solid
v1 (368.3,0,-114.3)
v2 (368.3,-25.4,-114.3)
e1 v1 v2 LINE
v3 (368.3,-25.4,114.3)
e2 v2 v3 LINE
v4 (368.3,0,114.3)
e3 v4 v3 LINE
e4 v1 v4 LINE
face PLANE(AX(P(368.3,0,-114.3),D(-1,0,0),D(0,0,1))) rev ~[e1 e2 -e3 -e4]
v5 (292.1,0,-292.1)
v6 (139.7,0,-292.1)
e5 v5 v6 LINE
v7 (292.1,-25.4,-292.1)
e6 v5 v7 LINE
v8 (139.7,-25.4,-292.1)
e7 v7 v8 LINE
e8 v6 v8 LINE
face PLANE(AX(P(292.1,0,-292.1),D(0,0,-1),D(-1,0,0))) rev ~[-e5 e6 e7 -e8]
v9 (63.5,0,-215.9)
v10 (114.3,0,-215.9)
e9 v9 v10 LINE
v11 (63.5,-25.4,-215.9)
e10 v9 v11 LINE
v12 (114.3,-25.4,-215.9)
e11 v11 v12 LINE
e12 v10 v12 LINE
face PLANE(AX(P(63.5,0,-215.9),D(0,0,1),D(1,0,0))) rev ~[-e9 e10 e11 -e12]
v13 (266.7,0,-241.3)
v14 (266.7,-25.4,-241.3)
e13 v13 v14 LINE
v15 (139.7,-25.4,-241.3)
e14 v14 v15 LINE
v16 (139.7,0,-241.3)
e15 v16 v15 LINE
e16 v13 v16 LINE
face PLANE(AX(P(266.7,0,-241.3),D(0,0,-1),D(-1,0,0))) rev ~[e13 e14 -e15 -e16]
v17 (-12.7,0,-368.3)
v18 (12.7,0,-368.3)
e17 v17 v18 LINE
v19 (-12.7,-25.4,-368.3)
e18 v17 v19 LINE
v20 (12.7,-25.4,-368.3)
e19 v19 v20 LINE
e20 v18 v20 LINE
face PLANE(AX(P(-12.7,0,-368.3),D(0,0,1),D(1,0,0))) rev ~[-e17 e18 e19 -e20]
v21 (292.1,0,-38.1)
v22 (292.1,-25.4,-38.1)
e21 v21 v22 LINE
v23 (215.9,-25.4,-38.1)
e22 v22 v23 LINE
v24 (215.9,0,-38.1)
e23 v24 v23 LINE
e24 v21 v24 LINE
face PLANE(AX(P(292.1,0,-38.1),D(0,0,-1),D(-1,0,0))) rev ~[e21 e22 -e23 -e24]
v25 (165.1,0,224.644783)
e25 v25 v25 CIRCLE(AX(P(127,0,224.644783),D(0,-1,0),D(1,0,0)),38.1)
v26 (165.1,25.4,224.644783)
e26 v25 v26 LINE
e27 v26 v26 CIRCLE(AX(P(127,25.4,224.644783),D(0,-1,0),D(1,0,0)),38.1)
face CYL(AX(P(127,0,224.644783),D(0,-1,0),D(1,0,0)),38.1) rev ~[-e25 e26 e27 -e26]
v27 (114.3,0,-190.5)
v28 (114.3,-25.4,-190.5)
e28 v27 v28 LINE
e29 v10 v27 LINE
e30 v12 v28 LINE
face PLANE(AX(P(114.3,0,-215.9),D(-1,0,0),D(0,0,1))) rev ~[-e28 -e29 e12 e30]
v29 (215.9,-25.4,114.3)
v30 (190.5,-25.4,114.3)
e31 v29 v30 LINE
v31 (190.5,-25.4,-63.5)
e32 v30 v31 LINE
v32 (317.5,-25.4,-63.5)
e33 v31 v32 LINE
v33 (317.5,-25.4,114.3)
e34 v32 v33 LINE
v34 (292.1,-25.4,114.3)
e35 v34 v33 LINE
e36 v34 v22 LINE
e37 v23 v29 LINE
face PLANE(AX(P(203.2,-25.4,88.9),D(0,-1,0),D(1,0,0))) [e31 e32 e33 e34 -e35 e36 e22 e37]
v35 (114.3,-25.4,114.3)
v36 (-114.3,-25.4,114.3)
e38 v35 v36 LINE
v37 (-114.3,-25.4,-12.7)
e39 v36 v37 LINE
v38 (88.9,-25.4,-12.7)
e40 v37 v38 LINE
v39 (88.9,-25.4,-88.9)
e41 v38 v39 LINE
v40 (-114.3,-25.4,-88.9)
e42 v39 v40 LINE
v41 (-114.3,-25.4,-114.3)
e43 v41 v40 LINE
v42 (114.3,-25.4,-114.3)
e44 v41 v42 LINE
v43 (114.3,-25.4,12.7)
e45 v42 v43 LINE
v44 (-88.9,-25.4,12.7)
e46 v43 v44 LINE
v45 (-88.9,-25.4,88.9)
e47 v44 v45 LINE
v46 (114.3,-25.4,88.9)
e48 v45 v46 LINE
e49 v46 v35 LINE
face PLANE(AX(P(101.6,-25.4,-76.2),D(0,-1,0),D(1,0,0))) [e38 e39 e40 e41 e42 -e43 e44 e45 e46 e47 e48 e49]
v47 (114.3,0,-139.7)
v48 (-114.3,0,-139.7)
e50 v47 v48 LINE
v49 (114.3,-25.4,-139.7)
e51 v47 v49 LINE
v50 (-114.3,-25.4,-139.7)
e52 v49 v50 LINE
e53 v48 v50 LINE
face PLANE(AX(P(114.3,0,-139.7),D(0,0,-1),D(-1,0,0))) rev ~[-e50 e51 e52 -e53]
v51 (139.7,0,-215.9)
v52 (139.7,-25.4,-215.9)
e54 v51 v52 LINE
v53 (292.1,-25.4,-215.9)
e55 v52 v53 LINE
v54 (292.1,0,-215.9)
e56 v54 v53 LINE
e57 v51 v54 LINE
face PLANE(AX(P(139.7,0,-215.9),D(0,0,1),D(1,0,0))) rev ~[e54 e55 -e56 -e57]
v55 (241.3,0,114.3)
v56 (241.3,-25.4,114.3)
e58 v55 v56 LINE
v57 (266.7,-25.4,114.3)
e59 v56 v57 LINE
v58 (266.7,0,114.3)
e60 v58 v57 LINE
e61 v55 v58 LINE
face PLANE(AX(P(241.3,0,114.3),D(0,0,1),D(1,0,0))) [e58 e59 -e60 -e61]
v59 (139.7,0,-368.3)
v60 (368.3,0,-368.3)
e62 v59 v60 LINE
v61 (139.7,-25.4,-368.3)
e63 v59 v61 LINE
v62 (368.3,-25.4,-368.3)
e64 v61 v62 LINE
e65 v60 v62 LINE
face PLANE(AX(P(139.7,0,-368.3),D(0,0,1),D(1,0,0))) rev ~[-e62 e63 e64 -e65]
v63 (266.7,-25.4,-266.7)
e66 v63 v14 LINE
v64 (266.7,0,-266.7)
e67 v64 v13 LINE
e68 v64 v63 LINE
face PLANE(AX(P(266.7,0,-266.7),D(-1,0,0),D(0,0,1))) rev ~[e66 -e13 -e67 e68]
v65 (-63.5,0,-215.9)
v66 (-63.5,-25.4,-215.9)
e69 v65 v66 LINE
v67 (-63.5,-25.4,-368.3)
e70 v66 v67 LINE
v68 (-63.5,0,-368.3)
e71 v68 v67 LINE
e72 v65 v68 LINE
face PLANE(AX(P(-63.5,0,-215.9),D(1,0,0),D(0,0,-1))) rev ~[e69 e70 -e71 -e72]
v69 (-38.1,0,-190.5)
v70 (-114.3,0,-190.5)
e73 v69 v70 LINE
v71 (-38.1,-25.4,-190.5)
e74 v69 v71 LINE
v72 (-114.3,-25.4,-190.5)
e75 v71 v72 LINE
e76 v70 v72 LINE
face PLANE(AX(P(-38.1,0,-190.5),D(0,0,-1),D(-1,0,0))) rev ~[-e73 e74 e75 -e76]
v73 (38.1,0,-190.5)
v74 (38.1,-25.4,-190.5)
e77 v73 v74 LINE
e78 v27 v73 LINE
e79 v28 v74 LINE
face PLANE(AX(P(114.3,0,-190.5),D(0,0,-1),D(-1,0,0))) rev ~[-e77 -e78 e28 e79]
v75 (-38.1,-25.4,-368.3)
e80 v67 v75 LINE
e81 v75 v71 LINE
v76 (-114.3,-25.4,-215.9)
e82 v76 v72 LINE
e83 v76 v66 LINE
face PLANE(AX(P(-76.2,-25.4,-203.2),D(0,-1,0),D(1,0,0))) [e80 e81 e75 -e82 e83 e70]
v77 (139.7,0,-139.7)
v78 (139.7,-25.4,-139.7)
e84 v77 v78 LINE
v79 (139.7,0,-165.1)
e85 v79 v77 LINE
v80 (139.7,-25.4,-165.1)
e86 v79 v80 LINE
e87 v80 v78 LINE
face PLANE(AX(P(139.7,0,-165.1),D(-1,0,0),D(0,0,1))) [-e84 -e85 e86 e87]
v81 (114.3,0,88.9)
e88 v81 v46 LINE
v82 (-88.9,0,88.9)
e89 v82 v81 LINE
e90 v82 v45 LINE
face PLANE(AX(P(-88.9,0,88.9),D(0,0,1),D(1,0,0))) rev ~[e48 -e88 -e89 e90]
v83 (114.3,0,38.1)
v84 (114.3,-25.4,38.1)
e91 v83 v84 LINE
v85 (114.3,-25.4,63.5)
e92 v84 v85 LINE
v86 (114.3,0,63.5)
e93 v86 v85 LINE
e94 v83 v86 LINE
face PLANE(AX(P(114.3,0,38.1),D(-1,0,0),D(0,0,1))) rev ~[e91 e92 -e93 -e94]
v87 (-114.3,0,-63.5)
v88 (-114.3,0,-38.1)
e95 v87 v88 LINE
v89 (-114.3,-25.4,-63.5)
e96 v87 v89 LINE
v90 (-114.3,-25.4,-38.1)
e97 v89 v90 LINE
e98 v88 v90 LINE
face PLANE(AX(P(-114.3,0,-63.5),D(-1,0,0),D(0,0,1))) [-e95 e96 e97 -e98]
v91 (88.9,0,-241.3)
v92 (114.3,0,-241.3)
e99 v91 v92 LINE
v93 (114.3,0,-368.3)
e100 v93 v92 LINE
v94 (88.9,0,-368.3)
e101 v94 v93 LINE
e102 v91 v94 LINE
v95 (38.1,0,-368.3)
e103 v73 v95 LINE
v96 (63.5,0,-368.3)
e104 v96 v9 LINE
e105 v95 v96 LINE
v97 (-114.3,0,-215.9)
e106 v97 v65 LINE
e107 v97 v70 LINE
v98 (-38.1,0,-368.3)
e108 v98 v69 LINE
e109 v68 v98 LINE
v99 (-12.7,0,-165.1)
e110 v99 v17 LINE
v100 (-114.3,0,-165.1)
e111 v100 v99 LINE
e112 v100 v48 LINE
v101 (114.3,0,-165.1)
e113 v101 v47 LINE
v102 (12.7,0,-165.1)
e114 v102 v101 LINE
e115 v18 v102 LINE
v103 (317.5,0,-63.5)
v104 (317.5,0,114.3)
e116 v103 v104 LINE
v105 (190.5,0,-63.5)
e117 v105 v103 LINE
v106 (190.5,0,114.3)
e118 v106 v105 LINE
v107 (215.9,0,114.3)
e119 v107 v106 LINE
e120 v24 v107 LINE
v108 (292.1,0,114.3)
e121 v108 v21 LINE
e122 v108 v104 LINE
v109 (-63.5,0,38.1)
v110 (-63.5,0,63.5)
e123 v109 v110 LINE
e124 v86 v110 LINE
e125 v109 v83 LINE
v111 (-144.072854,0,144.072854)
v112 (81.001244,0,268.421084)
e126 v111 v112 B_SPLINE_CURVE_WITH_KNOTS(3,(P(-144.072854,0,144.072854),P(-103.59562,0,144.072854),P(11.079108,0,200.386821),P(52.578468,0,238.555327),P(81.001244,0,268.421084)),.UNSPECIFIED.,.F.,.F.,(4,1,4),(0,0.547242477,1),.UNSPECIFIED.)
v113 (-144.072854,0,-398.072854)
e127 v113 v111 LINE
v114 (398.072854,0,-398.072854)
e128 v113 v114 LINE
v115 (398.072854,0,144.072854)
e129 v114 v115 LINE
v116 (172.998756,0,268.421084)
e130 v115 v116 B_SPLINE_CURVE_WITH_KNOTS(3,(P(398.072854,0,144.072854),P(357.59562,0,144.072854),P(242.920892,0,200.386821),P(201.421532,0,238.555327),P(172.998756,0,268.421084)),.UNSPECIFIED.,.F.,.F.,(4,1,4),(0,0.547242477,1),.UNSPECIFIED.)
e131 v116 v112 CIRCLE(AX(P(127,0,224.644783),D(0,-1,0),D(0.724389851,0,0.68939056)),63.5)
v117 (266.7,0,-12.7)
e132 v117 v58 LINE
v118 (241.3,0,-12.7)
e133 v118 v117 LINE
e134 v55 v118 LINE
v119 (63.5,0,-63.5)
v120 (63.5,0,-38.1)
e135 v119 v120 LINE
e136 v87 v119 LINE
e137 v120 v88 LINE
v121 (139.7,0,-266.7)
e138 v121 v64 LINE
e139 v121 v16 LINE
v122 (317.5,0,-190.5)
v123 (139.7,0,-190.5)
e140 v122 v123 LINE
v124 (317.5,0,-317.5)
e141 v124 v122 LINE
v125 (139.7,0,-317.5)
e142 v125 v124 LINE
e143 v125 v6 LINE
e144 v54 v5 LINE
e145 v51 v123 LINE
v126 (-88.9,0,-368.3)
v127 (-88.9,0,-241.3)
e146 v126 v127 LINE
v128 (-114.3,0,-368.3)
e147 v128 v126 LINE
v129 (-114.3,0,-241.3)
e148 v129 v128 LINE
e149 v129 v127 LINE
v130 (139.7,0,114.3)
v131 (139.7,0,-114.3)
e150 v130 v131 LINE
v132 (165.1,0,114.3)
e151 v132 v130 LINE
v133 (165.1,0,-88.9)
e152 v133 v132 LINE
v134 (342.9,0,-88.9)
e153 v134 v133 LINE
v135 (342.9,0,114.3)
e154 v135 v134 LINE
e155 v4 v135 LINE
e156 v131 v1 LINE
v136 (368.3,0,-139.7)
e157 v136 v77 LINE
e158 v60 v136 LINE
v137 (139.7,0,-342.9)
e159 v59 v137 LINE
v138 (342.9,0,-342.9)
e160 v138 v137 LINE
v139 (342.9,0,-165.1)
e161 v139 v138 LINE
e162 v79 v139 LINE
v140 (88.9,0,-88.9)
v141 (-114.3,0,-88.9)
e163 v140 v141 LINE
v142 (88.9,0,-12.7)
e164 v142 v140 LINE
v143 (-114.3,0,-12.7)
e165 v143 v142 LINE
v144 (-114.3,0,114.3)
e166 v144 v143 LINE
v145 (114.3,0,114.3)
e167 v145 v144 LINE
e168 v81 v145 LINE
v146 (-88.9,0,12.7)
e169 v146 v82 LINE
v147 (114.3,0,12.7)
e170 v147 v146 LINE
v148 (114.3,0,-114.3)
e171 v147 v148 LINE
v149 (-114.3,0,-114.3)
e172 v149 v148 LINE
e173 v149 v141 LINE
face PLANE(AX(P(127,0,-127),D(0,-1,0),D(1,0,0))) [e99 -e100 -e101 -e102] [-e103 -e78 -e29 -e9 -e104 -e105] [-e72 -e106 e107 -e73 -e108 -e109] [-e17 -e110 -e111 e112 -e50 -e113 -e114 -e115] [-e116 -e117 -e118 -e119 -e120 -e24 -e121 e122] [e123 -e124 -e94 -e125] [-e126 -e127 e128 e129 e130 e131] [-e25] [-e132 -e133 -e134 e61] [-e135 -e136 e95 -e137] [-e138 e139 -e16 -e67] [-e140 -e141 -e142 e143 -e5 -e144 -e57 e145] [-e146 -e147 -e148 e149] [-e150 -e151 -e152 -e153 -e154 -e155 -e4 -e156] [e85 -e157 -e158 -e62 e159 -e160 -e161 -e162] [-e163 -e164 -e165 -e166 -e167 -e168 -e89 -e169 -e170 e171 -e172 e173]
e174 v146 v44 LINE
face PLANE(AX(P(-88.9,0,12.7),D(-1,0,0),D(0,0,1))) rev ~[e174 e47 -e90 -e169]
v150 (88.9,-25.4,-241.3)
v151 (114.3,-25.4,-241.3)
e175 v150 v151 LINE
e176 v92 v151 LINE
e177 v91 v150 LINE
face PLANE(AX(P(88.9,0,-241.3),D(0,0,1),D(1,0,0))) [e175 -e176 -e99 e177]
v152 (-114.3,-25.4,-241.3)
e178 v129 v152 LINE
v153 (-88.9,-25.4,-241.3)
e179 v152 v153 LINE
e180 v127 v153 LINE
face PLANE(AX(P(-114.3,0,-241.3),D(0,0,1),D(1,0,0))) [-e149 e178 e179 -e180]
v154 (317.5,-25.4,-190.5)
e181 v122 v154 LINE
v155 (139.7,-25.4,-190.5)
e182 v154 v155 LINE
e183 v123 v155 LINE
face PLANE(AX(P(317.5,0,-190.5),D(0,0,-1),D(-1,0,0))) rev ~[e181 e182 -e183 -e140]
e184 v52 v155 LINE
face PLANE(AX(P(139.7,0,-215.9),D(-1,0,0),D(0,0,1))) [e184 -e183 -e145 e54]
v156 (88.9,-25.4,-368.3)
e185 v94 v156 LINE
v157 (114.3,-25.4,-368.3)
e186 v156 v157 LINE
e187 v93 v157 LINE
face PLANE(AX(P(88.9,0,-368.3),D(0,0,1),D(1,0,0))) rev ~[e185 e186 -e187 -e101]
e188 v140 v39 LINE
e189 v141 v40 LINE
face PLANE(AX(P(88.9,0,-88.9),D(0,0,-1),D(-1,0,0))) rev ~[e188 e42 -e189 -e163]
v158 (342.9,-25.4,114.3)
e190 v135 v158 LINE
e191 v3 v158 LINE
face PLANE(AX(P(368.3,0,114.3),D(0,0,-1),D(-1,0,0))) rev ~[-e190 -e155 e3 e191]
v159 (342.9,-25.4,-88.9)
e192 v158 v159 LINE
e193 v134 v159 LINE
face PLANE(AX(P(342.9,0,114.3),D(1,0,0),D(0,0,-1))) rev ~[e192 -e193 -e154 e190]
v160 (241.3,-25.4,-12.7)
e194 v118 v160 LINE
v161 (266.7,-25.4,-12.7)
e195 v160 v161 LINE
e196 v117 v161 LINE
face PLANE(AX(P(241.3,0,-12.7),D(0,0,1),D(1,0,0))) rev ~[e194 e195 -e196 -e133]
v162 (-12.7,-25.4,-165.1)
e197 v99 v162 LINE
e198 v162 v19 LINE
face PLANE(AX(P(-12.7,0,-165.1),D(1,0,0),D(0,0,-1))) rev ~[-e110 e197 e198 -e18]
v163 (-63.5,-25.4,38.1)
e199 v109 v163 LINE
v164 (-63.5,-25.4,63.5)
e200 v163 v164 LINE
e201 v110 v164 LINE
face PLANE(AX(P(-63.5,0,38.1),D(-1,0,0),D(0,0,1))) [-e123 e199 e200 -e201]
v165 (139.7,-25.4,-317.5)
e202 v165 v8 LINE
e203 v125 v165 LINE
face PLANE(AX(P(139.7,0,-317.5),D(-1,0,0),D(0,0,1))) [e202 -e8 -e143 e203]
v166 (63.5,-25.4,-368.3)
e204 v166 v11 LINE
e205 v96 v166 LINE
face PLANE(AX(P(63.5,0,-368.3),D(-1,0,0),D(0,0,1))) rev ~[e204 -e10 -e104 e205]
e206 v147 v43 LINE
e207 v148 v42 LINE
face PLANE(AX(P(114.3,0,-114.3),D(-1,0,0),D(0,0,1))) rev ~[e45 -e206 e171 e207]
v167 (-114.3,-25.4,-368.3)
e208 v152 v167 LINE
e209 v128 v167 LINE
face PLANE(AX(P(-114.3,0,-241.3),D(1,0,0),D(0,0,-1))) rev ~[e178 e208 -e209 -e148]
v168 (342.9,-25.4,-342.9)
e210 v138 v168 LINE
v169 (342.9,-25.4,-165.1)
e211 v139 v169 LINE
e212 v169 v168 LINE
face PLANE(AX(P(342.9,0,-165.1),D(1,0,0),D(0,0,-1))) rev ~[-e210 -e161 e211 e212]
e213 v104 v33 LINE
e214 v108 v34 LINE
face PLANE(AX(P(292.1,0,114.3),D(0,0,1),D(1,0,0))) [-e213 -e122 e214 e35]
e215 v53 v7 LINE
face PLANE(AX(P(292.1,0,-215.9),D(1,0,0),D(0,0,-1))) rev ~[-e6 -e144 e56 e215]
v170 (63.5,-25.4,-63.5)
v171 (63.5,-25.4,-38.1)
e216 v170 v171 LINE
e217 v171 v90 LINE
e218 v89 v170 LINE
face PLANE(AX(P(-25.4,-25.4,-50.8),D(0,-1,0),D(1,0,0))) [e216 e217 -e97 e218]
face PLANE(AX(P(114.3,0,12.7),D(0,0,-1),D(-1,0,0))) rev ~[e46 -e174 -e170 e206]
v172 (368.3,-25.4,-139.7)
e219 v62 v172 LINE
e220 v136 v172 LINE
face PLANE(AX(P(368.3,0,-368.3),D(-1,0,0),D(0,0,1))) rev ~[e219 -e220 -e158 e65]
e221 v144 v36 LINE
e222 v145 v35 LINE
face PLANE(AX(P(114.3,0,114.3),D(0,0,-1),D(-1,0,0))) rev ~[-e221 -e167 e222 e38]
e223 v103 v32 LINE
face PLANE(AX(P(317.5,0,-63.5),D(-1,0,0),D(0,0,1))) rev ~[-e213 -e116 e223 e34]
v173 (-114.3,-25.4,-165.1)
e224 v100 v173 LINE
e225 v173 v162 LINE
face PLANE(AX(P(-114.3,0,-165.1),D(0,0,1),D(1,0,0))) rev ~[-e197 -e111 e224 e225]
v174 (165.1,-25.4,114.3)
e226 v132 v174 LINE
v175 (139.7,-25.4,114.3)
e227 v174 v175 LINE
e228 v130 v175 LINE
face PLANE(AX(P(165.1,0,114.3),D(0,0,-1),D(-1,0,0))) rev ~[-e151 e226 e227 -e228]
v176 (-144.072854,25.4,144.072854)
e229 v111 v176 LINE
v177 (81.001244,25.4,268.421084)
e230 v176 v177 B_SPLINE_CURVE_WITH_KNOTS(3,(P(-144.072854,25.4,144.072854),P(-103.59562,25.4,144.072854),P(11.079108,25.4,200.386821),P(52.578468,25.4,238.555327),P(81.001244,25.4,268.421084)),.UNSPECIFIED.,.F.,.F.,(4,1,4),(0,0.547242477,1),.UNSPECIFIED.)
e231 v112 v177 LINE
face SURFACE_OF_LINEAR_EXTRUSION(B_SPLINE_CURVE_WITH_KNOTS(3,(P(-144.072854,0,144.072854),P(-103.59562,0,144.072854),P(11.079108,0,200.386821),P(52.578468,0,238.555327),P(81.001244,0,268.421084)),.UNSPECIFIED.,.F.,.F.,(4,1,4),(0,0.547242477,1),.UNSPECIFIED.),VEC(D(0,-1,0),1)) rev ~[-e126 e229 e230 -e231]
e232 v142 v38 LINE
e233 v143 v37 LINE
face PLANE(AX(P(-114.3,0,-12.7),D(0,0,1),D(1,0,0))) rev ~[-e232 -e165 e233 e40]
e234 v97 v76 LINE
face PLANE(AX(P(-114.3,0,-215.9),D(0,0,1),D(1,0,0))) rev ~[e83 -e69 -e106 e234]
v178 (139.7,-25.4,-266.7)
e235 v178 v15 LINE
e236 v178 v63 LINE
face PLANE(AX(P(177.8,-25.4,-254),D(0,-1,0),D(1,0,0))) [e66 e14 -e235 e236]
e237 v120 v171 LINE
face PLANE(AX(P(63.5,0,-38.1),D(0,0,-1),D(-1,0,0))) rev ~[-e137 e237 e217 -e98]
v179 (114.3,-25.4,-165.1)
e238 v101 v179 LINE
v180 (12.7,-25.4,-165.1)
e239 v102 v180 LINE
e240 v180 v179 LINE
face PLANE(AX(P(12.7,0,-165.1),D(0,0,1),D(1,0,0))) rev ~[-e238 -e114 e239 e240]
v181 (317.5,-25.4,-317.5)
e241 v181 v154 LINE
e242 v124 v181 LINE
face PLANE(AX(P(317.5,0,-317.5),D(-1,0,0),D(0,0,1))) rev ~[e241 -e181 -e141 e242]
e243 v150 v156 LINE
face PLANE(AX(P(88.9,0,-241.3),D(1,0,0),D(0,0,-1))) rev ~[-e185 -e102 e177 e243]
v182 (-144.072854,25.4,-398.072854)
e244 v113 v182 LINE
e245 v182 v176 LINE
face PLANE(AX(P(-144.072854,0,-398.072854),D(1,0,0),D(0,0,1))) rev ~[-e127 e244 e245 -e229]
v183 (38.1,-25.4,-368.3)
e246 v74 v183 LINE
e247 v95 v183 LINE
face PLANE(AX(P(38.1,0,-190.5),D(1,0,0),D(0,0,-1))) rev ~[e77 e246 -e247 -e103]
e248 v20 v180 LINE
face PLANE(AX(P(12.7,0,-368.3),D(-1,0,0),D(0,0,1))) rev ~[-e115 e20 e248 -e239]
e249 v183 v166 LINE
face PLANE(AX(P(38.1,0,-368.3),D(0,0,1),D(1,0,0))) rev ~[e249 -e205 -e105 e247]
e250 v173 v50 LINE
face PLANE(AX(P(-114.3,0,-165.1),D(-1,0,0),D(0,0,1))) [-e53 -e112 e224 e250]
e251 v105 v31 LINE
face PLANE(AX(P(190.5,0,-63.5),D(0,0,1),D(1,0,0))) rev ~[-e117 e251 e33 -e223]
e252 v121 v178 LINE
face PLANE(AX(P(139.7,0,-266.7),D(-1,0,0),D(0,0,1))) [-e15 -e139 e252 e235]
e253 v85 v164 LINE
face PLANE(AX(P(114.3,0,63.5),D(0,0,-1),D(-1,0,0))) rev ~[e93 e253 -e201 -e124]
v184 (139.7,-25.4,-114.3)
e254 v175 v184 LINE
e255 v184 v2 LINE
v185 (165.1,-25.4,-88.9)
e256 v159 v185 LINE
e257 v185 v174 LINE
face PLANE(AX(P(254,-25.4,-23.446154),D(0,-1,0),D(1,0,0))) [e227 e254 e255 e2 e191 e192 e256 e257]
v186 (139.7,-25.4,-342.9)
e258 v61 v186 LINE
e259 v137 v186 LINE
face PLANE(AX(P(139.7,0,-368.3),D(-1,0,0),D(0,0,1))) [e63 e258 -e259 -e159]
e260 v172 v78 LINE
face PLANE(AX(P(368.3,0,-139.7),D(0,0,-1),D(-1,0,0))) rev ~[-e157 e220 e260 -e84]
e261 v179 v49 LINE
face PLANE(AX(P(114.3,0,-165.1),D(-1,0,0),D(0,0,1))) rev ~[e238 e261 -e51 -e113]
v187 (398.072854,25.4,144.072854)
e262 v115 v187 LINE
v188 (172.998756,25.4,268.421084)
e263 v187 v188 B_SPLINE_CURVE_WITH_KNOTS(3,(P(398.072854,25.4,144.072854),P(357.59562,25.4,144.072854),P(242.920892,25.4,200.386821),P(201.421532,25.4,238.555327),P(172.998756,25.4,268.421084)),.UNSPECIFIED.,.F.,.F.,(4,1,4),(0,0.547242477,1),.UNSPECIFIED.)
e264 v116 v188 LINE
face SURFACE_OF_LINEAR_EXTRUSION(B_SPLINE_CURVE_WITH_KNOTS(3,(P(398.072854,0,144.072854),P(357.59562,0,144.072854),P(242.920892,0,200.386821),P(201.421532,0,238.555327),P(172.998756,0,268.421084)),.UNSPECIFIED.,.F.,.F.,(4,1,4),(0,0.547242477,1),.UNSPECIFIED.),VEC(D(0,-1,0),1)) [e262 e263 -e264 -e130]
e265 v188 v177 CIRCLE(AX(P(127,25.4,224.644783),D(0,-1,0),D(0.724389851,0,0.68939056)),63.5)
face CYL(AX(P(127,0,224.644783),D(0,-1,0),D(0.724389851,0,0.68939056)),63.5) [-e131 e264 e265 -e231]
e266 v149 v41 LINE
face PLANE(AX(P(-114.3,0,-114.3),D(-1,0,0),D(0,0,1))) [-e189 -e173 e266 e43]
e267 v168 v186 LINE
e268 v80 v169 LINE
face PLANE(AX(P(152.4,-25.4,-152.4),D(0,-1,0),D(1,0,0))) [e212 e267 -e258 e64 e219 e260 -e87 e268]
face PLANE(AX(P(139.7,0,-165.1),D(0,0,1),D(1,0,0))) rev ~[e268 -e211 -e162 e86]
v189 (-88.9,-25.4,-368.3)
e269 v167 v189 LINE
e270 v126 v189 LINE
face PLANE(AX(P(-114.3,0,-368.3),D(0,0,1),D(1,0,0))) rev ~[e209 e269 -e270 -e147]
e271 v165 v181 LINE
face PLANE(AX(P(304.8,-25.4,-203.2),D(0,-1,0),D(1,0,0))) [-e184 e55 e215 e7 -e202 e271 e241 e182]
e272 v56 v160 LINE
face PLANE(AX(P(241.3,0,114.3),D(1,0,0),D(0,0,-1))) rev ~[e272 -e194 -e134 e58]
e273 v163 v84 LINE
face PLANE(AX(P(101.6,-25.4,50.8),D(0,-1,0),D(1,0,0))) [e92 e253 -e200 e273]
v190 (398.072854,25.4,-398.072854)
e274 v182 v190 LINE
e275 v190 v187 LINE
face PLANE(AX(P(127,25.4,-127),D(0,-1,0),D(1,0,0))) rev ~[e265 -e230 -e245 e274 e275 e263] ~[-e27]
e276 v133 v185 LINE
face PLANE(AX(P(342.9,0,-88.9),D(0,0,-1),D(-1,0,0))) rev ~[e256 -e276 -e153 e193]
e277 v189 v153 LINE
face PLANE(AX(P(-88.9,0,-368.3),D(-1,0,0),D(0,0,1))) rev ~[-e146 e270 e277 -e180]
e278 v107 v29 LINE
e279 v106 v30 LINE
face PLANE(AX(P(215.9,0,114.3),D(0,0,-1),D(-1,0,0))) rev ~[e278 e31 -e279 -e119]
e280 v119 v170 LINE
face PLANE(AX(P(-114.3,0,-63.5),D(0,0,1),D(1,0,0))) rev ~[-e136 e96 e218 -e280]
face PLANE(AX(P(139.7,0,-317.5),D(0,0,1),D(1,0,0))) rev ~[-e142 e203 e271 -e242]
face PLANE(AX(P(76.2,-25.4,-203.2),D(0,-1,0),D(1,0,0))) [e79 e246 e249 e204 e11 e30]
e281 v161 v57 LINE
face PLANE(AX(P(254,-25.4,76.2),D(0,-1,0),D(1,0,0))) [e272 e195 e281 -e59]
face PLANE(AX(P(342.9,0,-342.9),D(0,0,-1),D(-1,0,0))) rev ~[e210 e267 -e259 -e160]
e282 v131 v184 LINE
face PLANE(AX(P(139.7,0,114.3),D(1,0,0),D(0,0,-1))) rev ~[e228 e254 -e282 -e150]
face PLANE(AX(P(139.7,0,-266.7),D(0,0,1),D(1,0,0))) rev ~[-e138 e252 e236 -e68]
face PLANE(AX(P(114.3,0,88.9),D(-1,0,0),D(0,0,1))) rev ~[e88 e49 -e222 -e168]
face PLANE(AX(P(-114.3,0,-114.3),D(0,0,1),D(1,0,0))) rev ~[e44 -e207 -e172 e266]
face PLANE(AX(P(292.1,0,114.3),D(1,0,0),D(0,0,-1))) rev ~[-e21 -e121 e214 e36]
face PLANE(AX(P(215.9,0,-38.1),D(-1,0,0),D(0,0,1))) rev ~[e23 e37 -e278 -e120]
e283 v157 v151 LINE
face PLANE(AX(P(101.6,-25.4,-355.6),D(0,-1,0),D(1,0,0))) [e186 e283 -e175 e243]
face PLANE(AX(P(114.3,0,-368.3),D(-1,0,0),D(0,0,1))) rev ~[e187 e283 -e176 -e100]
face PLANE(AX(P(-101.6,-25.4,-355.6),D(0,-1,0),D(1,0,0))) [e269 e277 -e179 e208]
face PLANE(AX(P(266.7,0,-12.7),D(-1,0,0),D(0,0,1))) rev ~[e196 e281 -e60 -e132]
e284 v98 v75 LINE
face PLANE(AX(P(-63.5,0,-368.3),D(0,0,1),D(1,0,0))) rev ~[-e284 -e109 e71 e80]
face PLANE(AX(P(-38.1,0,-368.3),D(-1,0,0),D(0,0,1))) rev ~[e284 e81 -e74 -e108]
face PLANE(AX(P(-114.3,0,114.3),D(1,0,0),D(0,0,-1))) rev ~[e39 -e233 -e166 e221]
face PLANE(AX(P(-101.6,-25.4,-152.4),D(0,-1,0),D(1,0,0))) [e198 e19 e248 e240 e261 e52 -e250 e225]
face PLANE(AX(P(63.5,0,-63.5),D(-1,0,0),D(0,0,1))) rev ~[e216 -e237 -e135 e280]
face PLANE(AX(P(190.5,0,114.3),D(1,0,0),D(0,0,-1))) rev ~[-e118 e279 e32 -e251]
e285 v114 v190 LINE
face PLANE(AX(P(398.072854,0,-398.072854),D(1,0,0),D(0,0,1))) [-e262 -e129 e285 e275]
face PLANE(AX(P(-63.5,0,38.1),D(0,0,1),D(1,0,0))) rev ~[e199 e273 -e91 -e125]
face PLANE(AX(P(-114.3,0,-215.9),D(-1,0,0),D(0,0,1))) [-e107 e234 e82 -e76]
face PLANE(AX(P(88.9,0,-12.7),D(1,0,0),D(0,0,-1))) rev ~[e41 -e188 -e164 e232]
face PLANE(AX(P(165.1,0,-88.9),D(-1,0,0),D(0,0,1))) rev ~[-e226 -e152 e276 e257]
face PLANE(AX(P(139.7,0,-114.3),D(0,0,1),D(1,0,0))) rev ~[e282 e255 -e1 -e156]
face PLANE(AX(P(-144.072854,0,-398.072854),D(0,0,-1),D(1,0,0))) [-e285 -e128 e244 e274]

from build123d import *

# Parameters (mm, degrees)
F0_W     = 25.4
F0_H     = 25.4
F1_DEPTH = 25.4
F2_DEPTH = 25.4
F3_DEPTH = 25.4
F4_W     = 542.145707978
F4_H     = 542.145707978
F4_R     = 38.1
F5_DEPTH = 25.4


with BuildPart() as f1:
    # F0 (on Front) → F1 (new body)
    with BuildSketch(Plane.XZ):
        with Locations((101.6, 101.6)):
            Rectangle(F0_W, F0_H)
        with Locations((76.2, 101.6)):
            Rectangle(F0_W, F0_H)
        with Locations((50.8, 101.6)):
            Rectangle(F0_W, F0_H)
        with Locations((25.4, 101.6)):
            Rectangle(F0_W, F0_H)
        with Locations((0, 101.6)):
            Rectangle(F0_W, F0_H)
        with Locations((-25.4, 101.6)):
            Rectangle(F0_W, F0_H)
        with Locations((-50.8, 101.6)):
            Rectangle(F0_W, F0_H)
        with Locations((-76.2, 101.6)):
            Rectangle(F0_W, F0_H)
        with Locations((-101.6, 101.6)):
            Rectangle(F0_W, F0_H)
        with Locations((-101.6, 76.2)):
            Rectangle(F0_W, F0_H)
        with Locations((-101.6, 50.8)):
            Rectangle(F0_W, F0_H)
        with Locations((-101.6, 25.4)):
            Rectangle(F0_W, F0_H)
        with Locations((-101.6, 0)):
            Rectangle(F0_W, F0_H)
        with Locations((-76.2, 0)):
            Rectangle(F0_W, F0_H)
        with Locations((-50.8, 0)):
            Rectangle(F0_W, F0_H)
        with Locations((-25.4, 0)):
            Rectangle(F0_W, F0_H)
        Rectangle(F0_W, F0_H)
        with Locations((25.4, 0)):
            Rectangle(F0_W, F0_H)
        with Locations((50.8, 0)):
            Rectangle(F0_W, F0_H)
        with Locations((76.2, 0)):
            Rectangle(F0_W, F0_H)
        with Locations((101.6, 0)):
            Rectangle(F0_W, F0_H)
    extrude(amount=F1_DEPTH)

    # F0 (on Front) → F2, piece 4 (join)
    with BuildSketch(Plane.XZ):
        with Locations((101.6, -76.2)):
            Rectangle(F0_W, F0_H)
        with Locations((101.6, -25.4)):
            Rectangle(F0_W, F0_H)
        with Locations((101.6, -50.8)):
            Rectangle(F0_W, F0_H)
        with Locations((101.6, -101.6)):
            Rectangle(F0_W, F0_H)
        with Locations((25.4, -101.6)):
            Rectangle(F0_W, F0_H)
        with Locations((50.8, -101.6)):
            Rectangle(F0_W, F0_H)
        with Locations((76.2, -101.6)):
            Rectangle(F0_W, F0_H)
        with Locations((-76.2, -101.6)):
            Rectangle(F0_W, F0_H)
        with Locations((-50.8, -101.6)):
            Rectangle(F0_W, F0_H)
        with Locations((-25.4, -101.6)):
            Rectangle(F0_W, F0_H)
        with Locations((0, -101.6)):
            Rectangle(F0_W, F0_H)
        with Locations((-101.6, -101.6)):
            Rectangle(F0_W, F0_H)
    extrude(amount=F2_DEPTH)



with BuildPart() as f2:
    # F0 (on Front) → F2 (new body)
    with BuildSketch(Plane.XZ):
        Polygon((165.1, 88.9), (165.1, 114.3), (139.7, 114.3), (139.7, -114.3), (368.3, -114.3), (368.3, 114.3), (342.9, 114.3), (342.9, 88.9), (342.9, 63.5), (342.9, 38.1), (342.9, 12.7), (342.9, -12.7), (342.9, -38.1), (342.9, -63.5), (342.9, -88.9), (317.5, -88.9), (292.1, -88.9), (266.7, -88.9), (241.3, -88.9), (215.9, -88.9), (190.5, -88.9), (165.1, -88.9), (165.1, -63.5), (165.1, -38.1), (165.1, -12.7), (165.1, 12.7), (165.1, 38.1), (165.1, 63.5), align=None)
    extrude(amount=F2_DEPTH)


with BuildPart() as f2b:
    # F0 (on Front) → F2, piece 2 (new body)
    with BuildSketch(Plane.XZ):
        Polygon((215.9, 88.9), (215.9, 114.3), (190.5, 114.3), (190.5, 88.9), (190.5, 63.5), (215.9, 63.5), align=None)
        with Locations((203.2, 50.8)):
            Rectangle(F0_W, F0_H)
        with Locations((203.2, 25.4)):
            Rectangle(F0_W, F0_H)
        with Locations((203.2, 0)):
            Rectangle(F0_W, F0_H)
        with Locations((203.2, -25.4)):
            Rectangle(F0_W, F0_H)
        with Locations((203.2, -50.8)):
            Rectangle(F0_W, F0_H)
        with Locations((279.4, -50.8)):
            Rectangle(F0_W, F0_H)
        with Locations((304.8, -50.8)):
            Rectangle(F0_W, F0_H)
        with Locations((228.6, -50.8)):
            Rectangle(F0_W, F0_H)
        with Locations((254, -50.8)):
            Rectangle(F0_W, F0_H)
        with Locations((304.8, 76.2)):
            Rectangle(F0_W, F0_H)
        with Locations((304.8, 101.6)):
            Rectangle(F0_W, F0_H)
        with Locations((304.8, 25.4)):
            Rectangle(F0_W, F0_H)
        with Locations((304.8, 0)):
            Rectangle(F0_W, F0_H)
        with Locations((304.8, -25.4)):
            Rectangle(F0_W, F0_H)
        with Locations((304.8, 50.8)):
            Rectangle(F0_W, F0_H)
    extrude(amount=F2_DEPTH)


with BuildPart() as f2c:
    # F0 (on Front) → F2, piece 3 (new body)
    with BuildSketch(Plane.XZ):
        with Locations((254, 76.2)):
            Rectangle(F0_W, F0_H)
        with Locations((254, 25.4)):
            Rectangle(F0_W, F0_H)
        with Locations((254, 50.8)):
            Rectangle(F0_W, F0_H)
        with Locations((254, 0)):
            Rectangle(F0_W, F0_H)
        with Locations((254, 101.6)):
            Rectangle(F0_W, F0_H)
    extrude(amount=F2_DEPTH)


with BuildPart() as f2d:
    # F0 (on Front) → F2, piece 5 (new body)
    with BuildSketch(Plane.XZ):
        with Locations((-25.4, -50.8)):
            Rectangle(F0_W, F0_H)
        with Locations((-101.6, -50.8)):
            Rectangle(F0_W, F0_H)
        with Locations((-76.2, -50.8)):
            Rectangle(F0_W, F0_H)
        with Locations((50.8, -50.8)):
            Rectangle(F0_W, F0_H)
        with Locations((25.4, -50.8)):
            Rectangle(F0_W, F0_H)
        with Locations((-50.8, -50.8)):
            Rectangle(F0_W, F0_H)
        with Locations((0, -50.8)):
            Rectangle(F0_W, F0_H)
    extrude(amount=F2_DEPTH)


with BuildPart() as f2e:
    # F0 (on Front) → F2, piece 6 (new body)
    with BuildSketch(Plane.XZ):
        with Locations((-101.6, -152.4)):
            Rectangle(F0_W, F0_H)
        with Locations((101.6, -152.4)):
            Rectangle(F0_W, F0_H)
        with Locations((25.4, -152.4)):
            Rectangle(F0_W, F0_H)
        with Locations((50.8, -152.4)):
            Rectangle(F0_W, F0_H)
        with Locations((-25.4, -152.4)):
            Rectangle(F0_W, F0_H)
        with Locations((76.2, -152.4)):
            Rectangle(F0_W, F0_H)
        with Locations((0, -152.4)):
            Rectangle(F0_W, F0_H)
        with Locations((-76.2, -152.4)):
            Rectangle(F0_W, F0_H)
        with Locations((-50.8, -152.4)):
            Rectangle(F0_W, F0_H)
        with Locations((0, -355.6)):
            Rectangle(F0_W, F0_H)
        with Locations((0, -203.2)):
            Rectangle(F0_W, F0_H)
        with Locations((0, -228.6)):
            Rectangle(F0_W, F0_H)
        with Locations((0, -254)):
            Rectangle(F0_W, F0_H)
        with Locations((0, -279.4)):
            Rectangle(F0_W, F0_H)
        with Locations((0, -304.8)):
            Rectangle(F0_W, F0_H)
        with Locations((0, -177.8)):
            Rectangle(F0_W, F0_H)
        with Locations((0, -330.2)):
            Rectangle(F0_W, F0_H)
    extrude(amount=F2_DEPTH)


with BuildPart() as f2f:
    # F0 (on Front) → F2, piece 7 (new body)
    with BuildSketch(Plane.XZ):
        with Locations((76.2, -203.2)):
            Rectangle(F0_W, F0_H)
        with Locations((101.6, -203.2)):
            Rectangle(F0_W, F0_H)
        with Locations((50.8, -203.2)):
            Rectangle(F0_W, F0_H)
        with Locations((50.8, -228.6)):
            Rectangle(F0_W, F0_H)
        with Locations((50.8, -355.6)):
            Rectangle(F0_W, F0_H)
        with Locations((50.8, -254)):
            Rectangle(F0_W, F0_H)
        with Locations((50.8, -279.4)):
            Rectangle(F0_W, F0_H)
        with Locations((50.8, -304.8)):
            Rectangle(F0_W, F0_H)
        with Locations((50.8, -330.2)):
            Rectangle(F0_W, F0_H)
    extrude(amount=F2_DEPTH)


with BuildPart() as f2g:
    # F0 (on Front) → F2, piece 8 (new body)
    with BuildSketch(Plane.XZ):
        with Locations((101.6, -355.6)):
            Rectangle(F0_W, F0_H)
        with Locations((101.6, -254)):
            Rectangle(F0_W, F0_H)
        with Locations((101.6, -279.4)):
            Rectangle(F0_W, F0_H)
        with Locations((101.6, -304.8)):
            Rectangle(F0_W, F0_H)
        with Locations((101.6, -330.2)):
            Rectangle(F0_W, F0_H)
    extrude(amount=F2_DEPTH)


with BuildPart() as f2h:
    # F0 (on Front) → F2, piece 9 (new body)
    with BuildSketch(Plane.XZ):
        with Locations((-76.2, -203.2)):
            Rectangle(F0_W, F0_H)
        with Locations((-50.8, -203.2)):
            Rectangle(F0_W, F0_H)
        with Locations((-101.6, -203.2)):
            Rectangle(F0_W, F0_H)
        with Locations((-50.8, -228.6)):
            Rectangle(F0_W, F0_H)
        with Locations((-50.8, -254)):
            Rectangle(F0_W, F0_H)
        with Locations((-50.8, -279.4)):
            Rectangle(F0_W, F0_H)
        with Locations((-50.8, -304.8)):
            Rectangle(F0_W, F0_H)
        with Locations((-50.8, -330.2)):
            Rectangle(F0_W, F0_H)
        with Locations((-50.8, -355.6)):
            Rectangle(F0_W, F0_H)
    extrude(amount=F2_DEPTH)


with BuildPart() as f2i:
    # F0 (on Front) → F2, piece 10 (new body)
    with BuildSketch(Plane.XZ):
        with Locations((-101.6, -355.6)):
            Rectangle(F0_W, F0_H)
        with Locations((-101.6, -254)):
            Rectangle(F0_W, F0_H)
        with Locations((-101.6, -279.4)):
            Rectangle(F0_W, F0_H)
        with Locations((-101.6, -304.8)):
            Rectangle(F0_W, F0_H)
        with Locations((-101.6, -330.2)):
            Rectangle(F0_W, F0_H)
    extrude(amount=F2_DEPTH)


with BuildPart() as f2j:
    # F0 (on Front) → F2, piece 11 (new body)
    with BuildSketch(Plane.XZ):
        with Locations((152.4, -152.4)):
            Rectangle(F0_W, F0_H)
        with Locations((355.6, -152.4)):
            Rectangle(F0_W, F0_H)
        with Locations((203.2, -152.4)):
            Rectangle(F0_W, F0_H)
        with Locations((279.4, -152.4)):
            Rectangle(F0_W, F0_H)
        with Locations((304.8, -152.4)):
            Rectangle(F0_W, F0_H)
        with Locations((228.6, -152.4)):
            Rectangle(F0_W, F0_H)
        with Locations((254, -152.4)):
            Rectangle(F0_W, F0_H)
        with Locations((330.2, -152.4)):
            Rectangle(F0_W, F0_H)
        with Locations((177.8, -152.4)):
            Rectangle(F0_W, F0_H)
        with Locations((355.6, -355.6)):
            Rectangle(F0_W, F0_H)
        with Locations((355.6, -330.2)):
            Rectangle(F0_W, F0_H)
        with Locations((355.6, -203.2)):
            Rectangle(F0_W, F0_H)
        with Locations((355.6, -177.8)):
            Rectangle(F0_W, F0_H)
        with Locations((355.6, -228.6)):
            Rectangle(F0_W, F0_H)
        with Locations((355.6, -254)):
            Rectangle(F0_W, F0_H)
        with Locations((355.6, -279.4)):
            Rectangle(F0_W, F0_H)
        with Locations((355.6, -304.8)):
            Rectangle(F0_W, F0_H)
        with Locations((152.4, -355.6)):
            Rectangle(F0_W, F0_H)
        with Locations((177.8, -355.6)):
            Rectangle(F0_W, F0_H)
        with Locations((203.2, -355.6)):
            Rectangle(F0_W, F0_H)
        with Locations((254, -355.6)):
            Rectangle(F0_W, F0_H)
        with Locations((228.6, -355.6)):
            Rectangle(F0_W, F0_H)
        with Locations((279.4, -355.6)):
            Rectangle(F0_W, F0_H)
        with Locations((304.8, -355.6)):
            Rectangle(F0_W, F0_H)
        with Locations((330.2, -355.6)):
            Rectangle(F0_W, F0_H)
    extrude(amount=F2_DEPTH)


with BuildPart() as f2k:
    # F0 (on Front) → F2, piece 12 (new body)
    with BuildSketch(Plane.XZ):
        with Locations((304.8, -203.2)):
            Rectangle(F0_W, F0_H)
        with Locations((304.8, -228.6)):
            Rectangle(F0_W, F0_H)
        with Locations((304.8, -254)):
            Rectangle(F0_W, F0_H)
        with Locations((304.8, -279.4)):
            Rectangle(F0_W, F0_H)
        with Locations((304.8, -304.8)):
            Rectangle(F0_W, F0_H)
        with Locations((279.4, -203.2)):
            Rectangle(F0_W, F0_H)
        with Locations((177.8, -203.2)):
            Rectangle(F0_W, F0_H)
        with Locations((254, -203.2)):
            Rectangle(F0_W, F0_H)
        with Locations((228.6, -203.2)):
            Rectangle(F0_W, F0_H)
        with Locations((203.2, -203.2)):
            Rectangle(F0_W, F0_H)
        with Locations((152.4, -203.2)):
            Rectangle(F0_W, F0_H)
        with Locations((177.8, -304.8)):
            Rectangle(F0_W, F0_H)
        with Locations((279.4, -304.8)):
            Rectangle(F0_W, F0_H)
        with Locations((203.2, -304.8)):
            Rectangle(F0_W, F0_H)
        with Locations((228.6, -304.8)):
            Rectangle(F0_W, F0_H)
        with Locations((254, -304.8)):
            Rectangle(F0_W, F0_H)
        with Locations((152.4, -304.8)):
            Rectangle(F0_W, F0_H)
    extrude(amount=F2_DEPTH)


with BuildPart() as f2l:
    # F0 (on Front) → F2, piece 13 (new body)
    with BuildSketch(Plane.XZ):
        with Locations((177.8, -254)):
            Rectangle(F0_W, F0_H)
        with Locations((254, -254)):
            Rectangle(F0_W, F0_H)
        with Locations((228.6, -254)):
            Rectangle(F0_W, F0_H)
        with Locations((203.2, -254)):
            Rectangle(F0_W, F0_H)
        with Locations((152.4, -254)):
            Rectangle(F0_W, F0_H)
    extrude(amount=F2_DEPTH)


with BuildPart() as f3:
    # F0 (on Front) → F3 (new body)
    with BuildSketch(Plane.XZ):
        with Locations((101.6, 50.8)):
            Rectangle(F0_W, F0_H)
        with Locations((76.2, 50.8)):
            Rectangle(F0_W, F0_H)
        with Locations((50.8, 50.8)):
            Rectangle(F0_W, F0_H)
        with Locations((25.4, 50.8)):
            Rectangle(F0_W, F0_H)
        with Locations((0, 50.8)):
            Rectangle(F0_W, F0_H)
        with Locations((-25.4, 50.8)):
            Rectangle(F0_W, F0_H)
        with Locations((-50.8, 50.8)):
            Rectangle(F0_W, F0_H)
    extrude(amount=F3_DEPTH)


with BuildPart() as f1_1:
    add(f1.part)

    add(f2.part)  # F5 merges F2

    add(f2b.part)  # F5 merges F2b

    add(f2c.part)  # F5 merges F2c

    add(f2d.part)  # F5 merges F2d

    add(f2e.part)  # F5 merges F2e

    add(f2f.part)  # F5 merges F2f

    add(f2g.part)  # F5 merges F2g

    add(f2h.part)  # F5 merges F2h

    add(f2i.part)  # F5 merges F2i

    add(f2j.part)  # F5 merges F2j

    add(f2k.part)  # F5 merges F2k

    add(f2l.part)  # F5 merges F2l

    add(f3.part)  # F5 merges F3
    # F4 (on Front) → F5 (join)
    with BuildSketch(Plane.XZ):
        with Locations((127, -127)):
            Rectangle(F4_W, F4_H)
        with BuildLine():
            add(Edge.make_bspline(
                [(-144.072853989, 144.072853989), (-103.5956195518, 144.072853989), (11.0791075699, 200.386820712), (52.5784679405, 238.5553268185), (81.0012444854, 268.4210836887)],
                knots=[0, 0, 0, 0, 0.5472424766, 1, 1, 1, 1], degree=3))
            Line((-144.072853989, 144.072853989), (398.072853989, 144.072853989))
            add(Edge.make_bspline(
                [(398.072853989, 144.072853989), (357.5956195518, 144.072853989), (242.9208924301, 200.386820712), (201.4215320595, 238.5553268185), (172.9987555146, 268.4210836887)],
                knots=[0, 0, 0, 0, 0.5472424766, 1, 1, 1, 1], degree=3))
            ThreePointArc((172.9987555146, 268.4210836887), (185.9625770094, 248.2173203745), (190.5, 224.6447831243))
            ThreePointArc((190.5, 224.6447831243), (103.4274627498, 165.6822061149), (81.0012444854, 268.4210836887))
        make_face()
        with BuildLine():
            ThreePointArc((172.9987555146, 268.4210836887), (127, 288.1447831243), (81.0012444854, 268.4210836887))
            ThreePointArc((81.0012444854, 268.4210836887), (103.4274627498, 165.6822061149), (190.5, 224.6447831243))
            ThreePointArc((190.5, 224.6447831243), (185.9625770094, 248.2173203745), (172.9987555146, 268.4210836887))
        make_face()
        with Locations((127, 224.6447831243)):
            Circle(F4_R, mode=Mode.SUBTRACT)
    extrude(amount=-F5_DEPTH)


solid = f1_1.part
